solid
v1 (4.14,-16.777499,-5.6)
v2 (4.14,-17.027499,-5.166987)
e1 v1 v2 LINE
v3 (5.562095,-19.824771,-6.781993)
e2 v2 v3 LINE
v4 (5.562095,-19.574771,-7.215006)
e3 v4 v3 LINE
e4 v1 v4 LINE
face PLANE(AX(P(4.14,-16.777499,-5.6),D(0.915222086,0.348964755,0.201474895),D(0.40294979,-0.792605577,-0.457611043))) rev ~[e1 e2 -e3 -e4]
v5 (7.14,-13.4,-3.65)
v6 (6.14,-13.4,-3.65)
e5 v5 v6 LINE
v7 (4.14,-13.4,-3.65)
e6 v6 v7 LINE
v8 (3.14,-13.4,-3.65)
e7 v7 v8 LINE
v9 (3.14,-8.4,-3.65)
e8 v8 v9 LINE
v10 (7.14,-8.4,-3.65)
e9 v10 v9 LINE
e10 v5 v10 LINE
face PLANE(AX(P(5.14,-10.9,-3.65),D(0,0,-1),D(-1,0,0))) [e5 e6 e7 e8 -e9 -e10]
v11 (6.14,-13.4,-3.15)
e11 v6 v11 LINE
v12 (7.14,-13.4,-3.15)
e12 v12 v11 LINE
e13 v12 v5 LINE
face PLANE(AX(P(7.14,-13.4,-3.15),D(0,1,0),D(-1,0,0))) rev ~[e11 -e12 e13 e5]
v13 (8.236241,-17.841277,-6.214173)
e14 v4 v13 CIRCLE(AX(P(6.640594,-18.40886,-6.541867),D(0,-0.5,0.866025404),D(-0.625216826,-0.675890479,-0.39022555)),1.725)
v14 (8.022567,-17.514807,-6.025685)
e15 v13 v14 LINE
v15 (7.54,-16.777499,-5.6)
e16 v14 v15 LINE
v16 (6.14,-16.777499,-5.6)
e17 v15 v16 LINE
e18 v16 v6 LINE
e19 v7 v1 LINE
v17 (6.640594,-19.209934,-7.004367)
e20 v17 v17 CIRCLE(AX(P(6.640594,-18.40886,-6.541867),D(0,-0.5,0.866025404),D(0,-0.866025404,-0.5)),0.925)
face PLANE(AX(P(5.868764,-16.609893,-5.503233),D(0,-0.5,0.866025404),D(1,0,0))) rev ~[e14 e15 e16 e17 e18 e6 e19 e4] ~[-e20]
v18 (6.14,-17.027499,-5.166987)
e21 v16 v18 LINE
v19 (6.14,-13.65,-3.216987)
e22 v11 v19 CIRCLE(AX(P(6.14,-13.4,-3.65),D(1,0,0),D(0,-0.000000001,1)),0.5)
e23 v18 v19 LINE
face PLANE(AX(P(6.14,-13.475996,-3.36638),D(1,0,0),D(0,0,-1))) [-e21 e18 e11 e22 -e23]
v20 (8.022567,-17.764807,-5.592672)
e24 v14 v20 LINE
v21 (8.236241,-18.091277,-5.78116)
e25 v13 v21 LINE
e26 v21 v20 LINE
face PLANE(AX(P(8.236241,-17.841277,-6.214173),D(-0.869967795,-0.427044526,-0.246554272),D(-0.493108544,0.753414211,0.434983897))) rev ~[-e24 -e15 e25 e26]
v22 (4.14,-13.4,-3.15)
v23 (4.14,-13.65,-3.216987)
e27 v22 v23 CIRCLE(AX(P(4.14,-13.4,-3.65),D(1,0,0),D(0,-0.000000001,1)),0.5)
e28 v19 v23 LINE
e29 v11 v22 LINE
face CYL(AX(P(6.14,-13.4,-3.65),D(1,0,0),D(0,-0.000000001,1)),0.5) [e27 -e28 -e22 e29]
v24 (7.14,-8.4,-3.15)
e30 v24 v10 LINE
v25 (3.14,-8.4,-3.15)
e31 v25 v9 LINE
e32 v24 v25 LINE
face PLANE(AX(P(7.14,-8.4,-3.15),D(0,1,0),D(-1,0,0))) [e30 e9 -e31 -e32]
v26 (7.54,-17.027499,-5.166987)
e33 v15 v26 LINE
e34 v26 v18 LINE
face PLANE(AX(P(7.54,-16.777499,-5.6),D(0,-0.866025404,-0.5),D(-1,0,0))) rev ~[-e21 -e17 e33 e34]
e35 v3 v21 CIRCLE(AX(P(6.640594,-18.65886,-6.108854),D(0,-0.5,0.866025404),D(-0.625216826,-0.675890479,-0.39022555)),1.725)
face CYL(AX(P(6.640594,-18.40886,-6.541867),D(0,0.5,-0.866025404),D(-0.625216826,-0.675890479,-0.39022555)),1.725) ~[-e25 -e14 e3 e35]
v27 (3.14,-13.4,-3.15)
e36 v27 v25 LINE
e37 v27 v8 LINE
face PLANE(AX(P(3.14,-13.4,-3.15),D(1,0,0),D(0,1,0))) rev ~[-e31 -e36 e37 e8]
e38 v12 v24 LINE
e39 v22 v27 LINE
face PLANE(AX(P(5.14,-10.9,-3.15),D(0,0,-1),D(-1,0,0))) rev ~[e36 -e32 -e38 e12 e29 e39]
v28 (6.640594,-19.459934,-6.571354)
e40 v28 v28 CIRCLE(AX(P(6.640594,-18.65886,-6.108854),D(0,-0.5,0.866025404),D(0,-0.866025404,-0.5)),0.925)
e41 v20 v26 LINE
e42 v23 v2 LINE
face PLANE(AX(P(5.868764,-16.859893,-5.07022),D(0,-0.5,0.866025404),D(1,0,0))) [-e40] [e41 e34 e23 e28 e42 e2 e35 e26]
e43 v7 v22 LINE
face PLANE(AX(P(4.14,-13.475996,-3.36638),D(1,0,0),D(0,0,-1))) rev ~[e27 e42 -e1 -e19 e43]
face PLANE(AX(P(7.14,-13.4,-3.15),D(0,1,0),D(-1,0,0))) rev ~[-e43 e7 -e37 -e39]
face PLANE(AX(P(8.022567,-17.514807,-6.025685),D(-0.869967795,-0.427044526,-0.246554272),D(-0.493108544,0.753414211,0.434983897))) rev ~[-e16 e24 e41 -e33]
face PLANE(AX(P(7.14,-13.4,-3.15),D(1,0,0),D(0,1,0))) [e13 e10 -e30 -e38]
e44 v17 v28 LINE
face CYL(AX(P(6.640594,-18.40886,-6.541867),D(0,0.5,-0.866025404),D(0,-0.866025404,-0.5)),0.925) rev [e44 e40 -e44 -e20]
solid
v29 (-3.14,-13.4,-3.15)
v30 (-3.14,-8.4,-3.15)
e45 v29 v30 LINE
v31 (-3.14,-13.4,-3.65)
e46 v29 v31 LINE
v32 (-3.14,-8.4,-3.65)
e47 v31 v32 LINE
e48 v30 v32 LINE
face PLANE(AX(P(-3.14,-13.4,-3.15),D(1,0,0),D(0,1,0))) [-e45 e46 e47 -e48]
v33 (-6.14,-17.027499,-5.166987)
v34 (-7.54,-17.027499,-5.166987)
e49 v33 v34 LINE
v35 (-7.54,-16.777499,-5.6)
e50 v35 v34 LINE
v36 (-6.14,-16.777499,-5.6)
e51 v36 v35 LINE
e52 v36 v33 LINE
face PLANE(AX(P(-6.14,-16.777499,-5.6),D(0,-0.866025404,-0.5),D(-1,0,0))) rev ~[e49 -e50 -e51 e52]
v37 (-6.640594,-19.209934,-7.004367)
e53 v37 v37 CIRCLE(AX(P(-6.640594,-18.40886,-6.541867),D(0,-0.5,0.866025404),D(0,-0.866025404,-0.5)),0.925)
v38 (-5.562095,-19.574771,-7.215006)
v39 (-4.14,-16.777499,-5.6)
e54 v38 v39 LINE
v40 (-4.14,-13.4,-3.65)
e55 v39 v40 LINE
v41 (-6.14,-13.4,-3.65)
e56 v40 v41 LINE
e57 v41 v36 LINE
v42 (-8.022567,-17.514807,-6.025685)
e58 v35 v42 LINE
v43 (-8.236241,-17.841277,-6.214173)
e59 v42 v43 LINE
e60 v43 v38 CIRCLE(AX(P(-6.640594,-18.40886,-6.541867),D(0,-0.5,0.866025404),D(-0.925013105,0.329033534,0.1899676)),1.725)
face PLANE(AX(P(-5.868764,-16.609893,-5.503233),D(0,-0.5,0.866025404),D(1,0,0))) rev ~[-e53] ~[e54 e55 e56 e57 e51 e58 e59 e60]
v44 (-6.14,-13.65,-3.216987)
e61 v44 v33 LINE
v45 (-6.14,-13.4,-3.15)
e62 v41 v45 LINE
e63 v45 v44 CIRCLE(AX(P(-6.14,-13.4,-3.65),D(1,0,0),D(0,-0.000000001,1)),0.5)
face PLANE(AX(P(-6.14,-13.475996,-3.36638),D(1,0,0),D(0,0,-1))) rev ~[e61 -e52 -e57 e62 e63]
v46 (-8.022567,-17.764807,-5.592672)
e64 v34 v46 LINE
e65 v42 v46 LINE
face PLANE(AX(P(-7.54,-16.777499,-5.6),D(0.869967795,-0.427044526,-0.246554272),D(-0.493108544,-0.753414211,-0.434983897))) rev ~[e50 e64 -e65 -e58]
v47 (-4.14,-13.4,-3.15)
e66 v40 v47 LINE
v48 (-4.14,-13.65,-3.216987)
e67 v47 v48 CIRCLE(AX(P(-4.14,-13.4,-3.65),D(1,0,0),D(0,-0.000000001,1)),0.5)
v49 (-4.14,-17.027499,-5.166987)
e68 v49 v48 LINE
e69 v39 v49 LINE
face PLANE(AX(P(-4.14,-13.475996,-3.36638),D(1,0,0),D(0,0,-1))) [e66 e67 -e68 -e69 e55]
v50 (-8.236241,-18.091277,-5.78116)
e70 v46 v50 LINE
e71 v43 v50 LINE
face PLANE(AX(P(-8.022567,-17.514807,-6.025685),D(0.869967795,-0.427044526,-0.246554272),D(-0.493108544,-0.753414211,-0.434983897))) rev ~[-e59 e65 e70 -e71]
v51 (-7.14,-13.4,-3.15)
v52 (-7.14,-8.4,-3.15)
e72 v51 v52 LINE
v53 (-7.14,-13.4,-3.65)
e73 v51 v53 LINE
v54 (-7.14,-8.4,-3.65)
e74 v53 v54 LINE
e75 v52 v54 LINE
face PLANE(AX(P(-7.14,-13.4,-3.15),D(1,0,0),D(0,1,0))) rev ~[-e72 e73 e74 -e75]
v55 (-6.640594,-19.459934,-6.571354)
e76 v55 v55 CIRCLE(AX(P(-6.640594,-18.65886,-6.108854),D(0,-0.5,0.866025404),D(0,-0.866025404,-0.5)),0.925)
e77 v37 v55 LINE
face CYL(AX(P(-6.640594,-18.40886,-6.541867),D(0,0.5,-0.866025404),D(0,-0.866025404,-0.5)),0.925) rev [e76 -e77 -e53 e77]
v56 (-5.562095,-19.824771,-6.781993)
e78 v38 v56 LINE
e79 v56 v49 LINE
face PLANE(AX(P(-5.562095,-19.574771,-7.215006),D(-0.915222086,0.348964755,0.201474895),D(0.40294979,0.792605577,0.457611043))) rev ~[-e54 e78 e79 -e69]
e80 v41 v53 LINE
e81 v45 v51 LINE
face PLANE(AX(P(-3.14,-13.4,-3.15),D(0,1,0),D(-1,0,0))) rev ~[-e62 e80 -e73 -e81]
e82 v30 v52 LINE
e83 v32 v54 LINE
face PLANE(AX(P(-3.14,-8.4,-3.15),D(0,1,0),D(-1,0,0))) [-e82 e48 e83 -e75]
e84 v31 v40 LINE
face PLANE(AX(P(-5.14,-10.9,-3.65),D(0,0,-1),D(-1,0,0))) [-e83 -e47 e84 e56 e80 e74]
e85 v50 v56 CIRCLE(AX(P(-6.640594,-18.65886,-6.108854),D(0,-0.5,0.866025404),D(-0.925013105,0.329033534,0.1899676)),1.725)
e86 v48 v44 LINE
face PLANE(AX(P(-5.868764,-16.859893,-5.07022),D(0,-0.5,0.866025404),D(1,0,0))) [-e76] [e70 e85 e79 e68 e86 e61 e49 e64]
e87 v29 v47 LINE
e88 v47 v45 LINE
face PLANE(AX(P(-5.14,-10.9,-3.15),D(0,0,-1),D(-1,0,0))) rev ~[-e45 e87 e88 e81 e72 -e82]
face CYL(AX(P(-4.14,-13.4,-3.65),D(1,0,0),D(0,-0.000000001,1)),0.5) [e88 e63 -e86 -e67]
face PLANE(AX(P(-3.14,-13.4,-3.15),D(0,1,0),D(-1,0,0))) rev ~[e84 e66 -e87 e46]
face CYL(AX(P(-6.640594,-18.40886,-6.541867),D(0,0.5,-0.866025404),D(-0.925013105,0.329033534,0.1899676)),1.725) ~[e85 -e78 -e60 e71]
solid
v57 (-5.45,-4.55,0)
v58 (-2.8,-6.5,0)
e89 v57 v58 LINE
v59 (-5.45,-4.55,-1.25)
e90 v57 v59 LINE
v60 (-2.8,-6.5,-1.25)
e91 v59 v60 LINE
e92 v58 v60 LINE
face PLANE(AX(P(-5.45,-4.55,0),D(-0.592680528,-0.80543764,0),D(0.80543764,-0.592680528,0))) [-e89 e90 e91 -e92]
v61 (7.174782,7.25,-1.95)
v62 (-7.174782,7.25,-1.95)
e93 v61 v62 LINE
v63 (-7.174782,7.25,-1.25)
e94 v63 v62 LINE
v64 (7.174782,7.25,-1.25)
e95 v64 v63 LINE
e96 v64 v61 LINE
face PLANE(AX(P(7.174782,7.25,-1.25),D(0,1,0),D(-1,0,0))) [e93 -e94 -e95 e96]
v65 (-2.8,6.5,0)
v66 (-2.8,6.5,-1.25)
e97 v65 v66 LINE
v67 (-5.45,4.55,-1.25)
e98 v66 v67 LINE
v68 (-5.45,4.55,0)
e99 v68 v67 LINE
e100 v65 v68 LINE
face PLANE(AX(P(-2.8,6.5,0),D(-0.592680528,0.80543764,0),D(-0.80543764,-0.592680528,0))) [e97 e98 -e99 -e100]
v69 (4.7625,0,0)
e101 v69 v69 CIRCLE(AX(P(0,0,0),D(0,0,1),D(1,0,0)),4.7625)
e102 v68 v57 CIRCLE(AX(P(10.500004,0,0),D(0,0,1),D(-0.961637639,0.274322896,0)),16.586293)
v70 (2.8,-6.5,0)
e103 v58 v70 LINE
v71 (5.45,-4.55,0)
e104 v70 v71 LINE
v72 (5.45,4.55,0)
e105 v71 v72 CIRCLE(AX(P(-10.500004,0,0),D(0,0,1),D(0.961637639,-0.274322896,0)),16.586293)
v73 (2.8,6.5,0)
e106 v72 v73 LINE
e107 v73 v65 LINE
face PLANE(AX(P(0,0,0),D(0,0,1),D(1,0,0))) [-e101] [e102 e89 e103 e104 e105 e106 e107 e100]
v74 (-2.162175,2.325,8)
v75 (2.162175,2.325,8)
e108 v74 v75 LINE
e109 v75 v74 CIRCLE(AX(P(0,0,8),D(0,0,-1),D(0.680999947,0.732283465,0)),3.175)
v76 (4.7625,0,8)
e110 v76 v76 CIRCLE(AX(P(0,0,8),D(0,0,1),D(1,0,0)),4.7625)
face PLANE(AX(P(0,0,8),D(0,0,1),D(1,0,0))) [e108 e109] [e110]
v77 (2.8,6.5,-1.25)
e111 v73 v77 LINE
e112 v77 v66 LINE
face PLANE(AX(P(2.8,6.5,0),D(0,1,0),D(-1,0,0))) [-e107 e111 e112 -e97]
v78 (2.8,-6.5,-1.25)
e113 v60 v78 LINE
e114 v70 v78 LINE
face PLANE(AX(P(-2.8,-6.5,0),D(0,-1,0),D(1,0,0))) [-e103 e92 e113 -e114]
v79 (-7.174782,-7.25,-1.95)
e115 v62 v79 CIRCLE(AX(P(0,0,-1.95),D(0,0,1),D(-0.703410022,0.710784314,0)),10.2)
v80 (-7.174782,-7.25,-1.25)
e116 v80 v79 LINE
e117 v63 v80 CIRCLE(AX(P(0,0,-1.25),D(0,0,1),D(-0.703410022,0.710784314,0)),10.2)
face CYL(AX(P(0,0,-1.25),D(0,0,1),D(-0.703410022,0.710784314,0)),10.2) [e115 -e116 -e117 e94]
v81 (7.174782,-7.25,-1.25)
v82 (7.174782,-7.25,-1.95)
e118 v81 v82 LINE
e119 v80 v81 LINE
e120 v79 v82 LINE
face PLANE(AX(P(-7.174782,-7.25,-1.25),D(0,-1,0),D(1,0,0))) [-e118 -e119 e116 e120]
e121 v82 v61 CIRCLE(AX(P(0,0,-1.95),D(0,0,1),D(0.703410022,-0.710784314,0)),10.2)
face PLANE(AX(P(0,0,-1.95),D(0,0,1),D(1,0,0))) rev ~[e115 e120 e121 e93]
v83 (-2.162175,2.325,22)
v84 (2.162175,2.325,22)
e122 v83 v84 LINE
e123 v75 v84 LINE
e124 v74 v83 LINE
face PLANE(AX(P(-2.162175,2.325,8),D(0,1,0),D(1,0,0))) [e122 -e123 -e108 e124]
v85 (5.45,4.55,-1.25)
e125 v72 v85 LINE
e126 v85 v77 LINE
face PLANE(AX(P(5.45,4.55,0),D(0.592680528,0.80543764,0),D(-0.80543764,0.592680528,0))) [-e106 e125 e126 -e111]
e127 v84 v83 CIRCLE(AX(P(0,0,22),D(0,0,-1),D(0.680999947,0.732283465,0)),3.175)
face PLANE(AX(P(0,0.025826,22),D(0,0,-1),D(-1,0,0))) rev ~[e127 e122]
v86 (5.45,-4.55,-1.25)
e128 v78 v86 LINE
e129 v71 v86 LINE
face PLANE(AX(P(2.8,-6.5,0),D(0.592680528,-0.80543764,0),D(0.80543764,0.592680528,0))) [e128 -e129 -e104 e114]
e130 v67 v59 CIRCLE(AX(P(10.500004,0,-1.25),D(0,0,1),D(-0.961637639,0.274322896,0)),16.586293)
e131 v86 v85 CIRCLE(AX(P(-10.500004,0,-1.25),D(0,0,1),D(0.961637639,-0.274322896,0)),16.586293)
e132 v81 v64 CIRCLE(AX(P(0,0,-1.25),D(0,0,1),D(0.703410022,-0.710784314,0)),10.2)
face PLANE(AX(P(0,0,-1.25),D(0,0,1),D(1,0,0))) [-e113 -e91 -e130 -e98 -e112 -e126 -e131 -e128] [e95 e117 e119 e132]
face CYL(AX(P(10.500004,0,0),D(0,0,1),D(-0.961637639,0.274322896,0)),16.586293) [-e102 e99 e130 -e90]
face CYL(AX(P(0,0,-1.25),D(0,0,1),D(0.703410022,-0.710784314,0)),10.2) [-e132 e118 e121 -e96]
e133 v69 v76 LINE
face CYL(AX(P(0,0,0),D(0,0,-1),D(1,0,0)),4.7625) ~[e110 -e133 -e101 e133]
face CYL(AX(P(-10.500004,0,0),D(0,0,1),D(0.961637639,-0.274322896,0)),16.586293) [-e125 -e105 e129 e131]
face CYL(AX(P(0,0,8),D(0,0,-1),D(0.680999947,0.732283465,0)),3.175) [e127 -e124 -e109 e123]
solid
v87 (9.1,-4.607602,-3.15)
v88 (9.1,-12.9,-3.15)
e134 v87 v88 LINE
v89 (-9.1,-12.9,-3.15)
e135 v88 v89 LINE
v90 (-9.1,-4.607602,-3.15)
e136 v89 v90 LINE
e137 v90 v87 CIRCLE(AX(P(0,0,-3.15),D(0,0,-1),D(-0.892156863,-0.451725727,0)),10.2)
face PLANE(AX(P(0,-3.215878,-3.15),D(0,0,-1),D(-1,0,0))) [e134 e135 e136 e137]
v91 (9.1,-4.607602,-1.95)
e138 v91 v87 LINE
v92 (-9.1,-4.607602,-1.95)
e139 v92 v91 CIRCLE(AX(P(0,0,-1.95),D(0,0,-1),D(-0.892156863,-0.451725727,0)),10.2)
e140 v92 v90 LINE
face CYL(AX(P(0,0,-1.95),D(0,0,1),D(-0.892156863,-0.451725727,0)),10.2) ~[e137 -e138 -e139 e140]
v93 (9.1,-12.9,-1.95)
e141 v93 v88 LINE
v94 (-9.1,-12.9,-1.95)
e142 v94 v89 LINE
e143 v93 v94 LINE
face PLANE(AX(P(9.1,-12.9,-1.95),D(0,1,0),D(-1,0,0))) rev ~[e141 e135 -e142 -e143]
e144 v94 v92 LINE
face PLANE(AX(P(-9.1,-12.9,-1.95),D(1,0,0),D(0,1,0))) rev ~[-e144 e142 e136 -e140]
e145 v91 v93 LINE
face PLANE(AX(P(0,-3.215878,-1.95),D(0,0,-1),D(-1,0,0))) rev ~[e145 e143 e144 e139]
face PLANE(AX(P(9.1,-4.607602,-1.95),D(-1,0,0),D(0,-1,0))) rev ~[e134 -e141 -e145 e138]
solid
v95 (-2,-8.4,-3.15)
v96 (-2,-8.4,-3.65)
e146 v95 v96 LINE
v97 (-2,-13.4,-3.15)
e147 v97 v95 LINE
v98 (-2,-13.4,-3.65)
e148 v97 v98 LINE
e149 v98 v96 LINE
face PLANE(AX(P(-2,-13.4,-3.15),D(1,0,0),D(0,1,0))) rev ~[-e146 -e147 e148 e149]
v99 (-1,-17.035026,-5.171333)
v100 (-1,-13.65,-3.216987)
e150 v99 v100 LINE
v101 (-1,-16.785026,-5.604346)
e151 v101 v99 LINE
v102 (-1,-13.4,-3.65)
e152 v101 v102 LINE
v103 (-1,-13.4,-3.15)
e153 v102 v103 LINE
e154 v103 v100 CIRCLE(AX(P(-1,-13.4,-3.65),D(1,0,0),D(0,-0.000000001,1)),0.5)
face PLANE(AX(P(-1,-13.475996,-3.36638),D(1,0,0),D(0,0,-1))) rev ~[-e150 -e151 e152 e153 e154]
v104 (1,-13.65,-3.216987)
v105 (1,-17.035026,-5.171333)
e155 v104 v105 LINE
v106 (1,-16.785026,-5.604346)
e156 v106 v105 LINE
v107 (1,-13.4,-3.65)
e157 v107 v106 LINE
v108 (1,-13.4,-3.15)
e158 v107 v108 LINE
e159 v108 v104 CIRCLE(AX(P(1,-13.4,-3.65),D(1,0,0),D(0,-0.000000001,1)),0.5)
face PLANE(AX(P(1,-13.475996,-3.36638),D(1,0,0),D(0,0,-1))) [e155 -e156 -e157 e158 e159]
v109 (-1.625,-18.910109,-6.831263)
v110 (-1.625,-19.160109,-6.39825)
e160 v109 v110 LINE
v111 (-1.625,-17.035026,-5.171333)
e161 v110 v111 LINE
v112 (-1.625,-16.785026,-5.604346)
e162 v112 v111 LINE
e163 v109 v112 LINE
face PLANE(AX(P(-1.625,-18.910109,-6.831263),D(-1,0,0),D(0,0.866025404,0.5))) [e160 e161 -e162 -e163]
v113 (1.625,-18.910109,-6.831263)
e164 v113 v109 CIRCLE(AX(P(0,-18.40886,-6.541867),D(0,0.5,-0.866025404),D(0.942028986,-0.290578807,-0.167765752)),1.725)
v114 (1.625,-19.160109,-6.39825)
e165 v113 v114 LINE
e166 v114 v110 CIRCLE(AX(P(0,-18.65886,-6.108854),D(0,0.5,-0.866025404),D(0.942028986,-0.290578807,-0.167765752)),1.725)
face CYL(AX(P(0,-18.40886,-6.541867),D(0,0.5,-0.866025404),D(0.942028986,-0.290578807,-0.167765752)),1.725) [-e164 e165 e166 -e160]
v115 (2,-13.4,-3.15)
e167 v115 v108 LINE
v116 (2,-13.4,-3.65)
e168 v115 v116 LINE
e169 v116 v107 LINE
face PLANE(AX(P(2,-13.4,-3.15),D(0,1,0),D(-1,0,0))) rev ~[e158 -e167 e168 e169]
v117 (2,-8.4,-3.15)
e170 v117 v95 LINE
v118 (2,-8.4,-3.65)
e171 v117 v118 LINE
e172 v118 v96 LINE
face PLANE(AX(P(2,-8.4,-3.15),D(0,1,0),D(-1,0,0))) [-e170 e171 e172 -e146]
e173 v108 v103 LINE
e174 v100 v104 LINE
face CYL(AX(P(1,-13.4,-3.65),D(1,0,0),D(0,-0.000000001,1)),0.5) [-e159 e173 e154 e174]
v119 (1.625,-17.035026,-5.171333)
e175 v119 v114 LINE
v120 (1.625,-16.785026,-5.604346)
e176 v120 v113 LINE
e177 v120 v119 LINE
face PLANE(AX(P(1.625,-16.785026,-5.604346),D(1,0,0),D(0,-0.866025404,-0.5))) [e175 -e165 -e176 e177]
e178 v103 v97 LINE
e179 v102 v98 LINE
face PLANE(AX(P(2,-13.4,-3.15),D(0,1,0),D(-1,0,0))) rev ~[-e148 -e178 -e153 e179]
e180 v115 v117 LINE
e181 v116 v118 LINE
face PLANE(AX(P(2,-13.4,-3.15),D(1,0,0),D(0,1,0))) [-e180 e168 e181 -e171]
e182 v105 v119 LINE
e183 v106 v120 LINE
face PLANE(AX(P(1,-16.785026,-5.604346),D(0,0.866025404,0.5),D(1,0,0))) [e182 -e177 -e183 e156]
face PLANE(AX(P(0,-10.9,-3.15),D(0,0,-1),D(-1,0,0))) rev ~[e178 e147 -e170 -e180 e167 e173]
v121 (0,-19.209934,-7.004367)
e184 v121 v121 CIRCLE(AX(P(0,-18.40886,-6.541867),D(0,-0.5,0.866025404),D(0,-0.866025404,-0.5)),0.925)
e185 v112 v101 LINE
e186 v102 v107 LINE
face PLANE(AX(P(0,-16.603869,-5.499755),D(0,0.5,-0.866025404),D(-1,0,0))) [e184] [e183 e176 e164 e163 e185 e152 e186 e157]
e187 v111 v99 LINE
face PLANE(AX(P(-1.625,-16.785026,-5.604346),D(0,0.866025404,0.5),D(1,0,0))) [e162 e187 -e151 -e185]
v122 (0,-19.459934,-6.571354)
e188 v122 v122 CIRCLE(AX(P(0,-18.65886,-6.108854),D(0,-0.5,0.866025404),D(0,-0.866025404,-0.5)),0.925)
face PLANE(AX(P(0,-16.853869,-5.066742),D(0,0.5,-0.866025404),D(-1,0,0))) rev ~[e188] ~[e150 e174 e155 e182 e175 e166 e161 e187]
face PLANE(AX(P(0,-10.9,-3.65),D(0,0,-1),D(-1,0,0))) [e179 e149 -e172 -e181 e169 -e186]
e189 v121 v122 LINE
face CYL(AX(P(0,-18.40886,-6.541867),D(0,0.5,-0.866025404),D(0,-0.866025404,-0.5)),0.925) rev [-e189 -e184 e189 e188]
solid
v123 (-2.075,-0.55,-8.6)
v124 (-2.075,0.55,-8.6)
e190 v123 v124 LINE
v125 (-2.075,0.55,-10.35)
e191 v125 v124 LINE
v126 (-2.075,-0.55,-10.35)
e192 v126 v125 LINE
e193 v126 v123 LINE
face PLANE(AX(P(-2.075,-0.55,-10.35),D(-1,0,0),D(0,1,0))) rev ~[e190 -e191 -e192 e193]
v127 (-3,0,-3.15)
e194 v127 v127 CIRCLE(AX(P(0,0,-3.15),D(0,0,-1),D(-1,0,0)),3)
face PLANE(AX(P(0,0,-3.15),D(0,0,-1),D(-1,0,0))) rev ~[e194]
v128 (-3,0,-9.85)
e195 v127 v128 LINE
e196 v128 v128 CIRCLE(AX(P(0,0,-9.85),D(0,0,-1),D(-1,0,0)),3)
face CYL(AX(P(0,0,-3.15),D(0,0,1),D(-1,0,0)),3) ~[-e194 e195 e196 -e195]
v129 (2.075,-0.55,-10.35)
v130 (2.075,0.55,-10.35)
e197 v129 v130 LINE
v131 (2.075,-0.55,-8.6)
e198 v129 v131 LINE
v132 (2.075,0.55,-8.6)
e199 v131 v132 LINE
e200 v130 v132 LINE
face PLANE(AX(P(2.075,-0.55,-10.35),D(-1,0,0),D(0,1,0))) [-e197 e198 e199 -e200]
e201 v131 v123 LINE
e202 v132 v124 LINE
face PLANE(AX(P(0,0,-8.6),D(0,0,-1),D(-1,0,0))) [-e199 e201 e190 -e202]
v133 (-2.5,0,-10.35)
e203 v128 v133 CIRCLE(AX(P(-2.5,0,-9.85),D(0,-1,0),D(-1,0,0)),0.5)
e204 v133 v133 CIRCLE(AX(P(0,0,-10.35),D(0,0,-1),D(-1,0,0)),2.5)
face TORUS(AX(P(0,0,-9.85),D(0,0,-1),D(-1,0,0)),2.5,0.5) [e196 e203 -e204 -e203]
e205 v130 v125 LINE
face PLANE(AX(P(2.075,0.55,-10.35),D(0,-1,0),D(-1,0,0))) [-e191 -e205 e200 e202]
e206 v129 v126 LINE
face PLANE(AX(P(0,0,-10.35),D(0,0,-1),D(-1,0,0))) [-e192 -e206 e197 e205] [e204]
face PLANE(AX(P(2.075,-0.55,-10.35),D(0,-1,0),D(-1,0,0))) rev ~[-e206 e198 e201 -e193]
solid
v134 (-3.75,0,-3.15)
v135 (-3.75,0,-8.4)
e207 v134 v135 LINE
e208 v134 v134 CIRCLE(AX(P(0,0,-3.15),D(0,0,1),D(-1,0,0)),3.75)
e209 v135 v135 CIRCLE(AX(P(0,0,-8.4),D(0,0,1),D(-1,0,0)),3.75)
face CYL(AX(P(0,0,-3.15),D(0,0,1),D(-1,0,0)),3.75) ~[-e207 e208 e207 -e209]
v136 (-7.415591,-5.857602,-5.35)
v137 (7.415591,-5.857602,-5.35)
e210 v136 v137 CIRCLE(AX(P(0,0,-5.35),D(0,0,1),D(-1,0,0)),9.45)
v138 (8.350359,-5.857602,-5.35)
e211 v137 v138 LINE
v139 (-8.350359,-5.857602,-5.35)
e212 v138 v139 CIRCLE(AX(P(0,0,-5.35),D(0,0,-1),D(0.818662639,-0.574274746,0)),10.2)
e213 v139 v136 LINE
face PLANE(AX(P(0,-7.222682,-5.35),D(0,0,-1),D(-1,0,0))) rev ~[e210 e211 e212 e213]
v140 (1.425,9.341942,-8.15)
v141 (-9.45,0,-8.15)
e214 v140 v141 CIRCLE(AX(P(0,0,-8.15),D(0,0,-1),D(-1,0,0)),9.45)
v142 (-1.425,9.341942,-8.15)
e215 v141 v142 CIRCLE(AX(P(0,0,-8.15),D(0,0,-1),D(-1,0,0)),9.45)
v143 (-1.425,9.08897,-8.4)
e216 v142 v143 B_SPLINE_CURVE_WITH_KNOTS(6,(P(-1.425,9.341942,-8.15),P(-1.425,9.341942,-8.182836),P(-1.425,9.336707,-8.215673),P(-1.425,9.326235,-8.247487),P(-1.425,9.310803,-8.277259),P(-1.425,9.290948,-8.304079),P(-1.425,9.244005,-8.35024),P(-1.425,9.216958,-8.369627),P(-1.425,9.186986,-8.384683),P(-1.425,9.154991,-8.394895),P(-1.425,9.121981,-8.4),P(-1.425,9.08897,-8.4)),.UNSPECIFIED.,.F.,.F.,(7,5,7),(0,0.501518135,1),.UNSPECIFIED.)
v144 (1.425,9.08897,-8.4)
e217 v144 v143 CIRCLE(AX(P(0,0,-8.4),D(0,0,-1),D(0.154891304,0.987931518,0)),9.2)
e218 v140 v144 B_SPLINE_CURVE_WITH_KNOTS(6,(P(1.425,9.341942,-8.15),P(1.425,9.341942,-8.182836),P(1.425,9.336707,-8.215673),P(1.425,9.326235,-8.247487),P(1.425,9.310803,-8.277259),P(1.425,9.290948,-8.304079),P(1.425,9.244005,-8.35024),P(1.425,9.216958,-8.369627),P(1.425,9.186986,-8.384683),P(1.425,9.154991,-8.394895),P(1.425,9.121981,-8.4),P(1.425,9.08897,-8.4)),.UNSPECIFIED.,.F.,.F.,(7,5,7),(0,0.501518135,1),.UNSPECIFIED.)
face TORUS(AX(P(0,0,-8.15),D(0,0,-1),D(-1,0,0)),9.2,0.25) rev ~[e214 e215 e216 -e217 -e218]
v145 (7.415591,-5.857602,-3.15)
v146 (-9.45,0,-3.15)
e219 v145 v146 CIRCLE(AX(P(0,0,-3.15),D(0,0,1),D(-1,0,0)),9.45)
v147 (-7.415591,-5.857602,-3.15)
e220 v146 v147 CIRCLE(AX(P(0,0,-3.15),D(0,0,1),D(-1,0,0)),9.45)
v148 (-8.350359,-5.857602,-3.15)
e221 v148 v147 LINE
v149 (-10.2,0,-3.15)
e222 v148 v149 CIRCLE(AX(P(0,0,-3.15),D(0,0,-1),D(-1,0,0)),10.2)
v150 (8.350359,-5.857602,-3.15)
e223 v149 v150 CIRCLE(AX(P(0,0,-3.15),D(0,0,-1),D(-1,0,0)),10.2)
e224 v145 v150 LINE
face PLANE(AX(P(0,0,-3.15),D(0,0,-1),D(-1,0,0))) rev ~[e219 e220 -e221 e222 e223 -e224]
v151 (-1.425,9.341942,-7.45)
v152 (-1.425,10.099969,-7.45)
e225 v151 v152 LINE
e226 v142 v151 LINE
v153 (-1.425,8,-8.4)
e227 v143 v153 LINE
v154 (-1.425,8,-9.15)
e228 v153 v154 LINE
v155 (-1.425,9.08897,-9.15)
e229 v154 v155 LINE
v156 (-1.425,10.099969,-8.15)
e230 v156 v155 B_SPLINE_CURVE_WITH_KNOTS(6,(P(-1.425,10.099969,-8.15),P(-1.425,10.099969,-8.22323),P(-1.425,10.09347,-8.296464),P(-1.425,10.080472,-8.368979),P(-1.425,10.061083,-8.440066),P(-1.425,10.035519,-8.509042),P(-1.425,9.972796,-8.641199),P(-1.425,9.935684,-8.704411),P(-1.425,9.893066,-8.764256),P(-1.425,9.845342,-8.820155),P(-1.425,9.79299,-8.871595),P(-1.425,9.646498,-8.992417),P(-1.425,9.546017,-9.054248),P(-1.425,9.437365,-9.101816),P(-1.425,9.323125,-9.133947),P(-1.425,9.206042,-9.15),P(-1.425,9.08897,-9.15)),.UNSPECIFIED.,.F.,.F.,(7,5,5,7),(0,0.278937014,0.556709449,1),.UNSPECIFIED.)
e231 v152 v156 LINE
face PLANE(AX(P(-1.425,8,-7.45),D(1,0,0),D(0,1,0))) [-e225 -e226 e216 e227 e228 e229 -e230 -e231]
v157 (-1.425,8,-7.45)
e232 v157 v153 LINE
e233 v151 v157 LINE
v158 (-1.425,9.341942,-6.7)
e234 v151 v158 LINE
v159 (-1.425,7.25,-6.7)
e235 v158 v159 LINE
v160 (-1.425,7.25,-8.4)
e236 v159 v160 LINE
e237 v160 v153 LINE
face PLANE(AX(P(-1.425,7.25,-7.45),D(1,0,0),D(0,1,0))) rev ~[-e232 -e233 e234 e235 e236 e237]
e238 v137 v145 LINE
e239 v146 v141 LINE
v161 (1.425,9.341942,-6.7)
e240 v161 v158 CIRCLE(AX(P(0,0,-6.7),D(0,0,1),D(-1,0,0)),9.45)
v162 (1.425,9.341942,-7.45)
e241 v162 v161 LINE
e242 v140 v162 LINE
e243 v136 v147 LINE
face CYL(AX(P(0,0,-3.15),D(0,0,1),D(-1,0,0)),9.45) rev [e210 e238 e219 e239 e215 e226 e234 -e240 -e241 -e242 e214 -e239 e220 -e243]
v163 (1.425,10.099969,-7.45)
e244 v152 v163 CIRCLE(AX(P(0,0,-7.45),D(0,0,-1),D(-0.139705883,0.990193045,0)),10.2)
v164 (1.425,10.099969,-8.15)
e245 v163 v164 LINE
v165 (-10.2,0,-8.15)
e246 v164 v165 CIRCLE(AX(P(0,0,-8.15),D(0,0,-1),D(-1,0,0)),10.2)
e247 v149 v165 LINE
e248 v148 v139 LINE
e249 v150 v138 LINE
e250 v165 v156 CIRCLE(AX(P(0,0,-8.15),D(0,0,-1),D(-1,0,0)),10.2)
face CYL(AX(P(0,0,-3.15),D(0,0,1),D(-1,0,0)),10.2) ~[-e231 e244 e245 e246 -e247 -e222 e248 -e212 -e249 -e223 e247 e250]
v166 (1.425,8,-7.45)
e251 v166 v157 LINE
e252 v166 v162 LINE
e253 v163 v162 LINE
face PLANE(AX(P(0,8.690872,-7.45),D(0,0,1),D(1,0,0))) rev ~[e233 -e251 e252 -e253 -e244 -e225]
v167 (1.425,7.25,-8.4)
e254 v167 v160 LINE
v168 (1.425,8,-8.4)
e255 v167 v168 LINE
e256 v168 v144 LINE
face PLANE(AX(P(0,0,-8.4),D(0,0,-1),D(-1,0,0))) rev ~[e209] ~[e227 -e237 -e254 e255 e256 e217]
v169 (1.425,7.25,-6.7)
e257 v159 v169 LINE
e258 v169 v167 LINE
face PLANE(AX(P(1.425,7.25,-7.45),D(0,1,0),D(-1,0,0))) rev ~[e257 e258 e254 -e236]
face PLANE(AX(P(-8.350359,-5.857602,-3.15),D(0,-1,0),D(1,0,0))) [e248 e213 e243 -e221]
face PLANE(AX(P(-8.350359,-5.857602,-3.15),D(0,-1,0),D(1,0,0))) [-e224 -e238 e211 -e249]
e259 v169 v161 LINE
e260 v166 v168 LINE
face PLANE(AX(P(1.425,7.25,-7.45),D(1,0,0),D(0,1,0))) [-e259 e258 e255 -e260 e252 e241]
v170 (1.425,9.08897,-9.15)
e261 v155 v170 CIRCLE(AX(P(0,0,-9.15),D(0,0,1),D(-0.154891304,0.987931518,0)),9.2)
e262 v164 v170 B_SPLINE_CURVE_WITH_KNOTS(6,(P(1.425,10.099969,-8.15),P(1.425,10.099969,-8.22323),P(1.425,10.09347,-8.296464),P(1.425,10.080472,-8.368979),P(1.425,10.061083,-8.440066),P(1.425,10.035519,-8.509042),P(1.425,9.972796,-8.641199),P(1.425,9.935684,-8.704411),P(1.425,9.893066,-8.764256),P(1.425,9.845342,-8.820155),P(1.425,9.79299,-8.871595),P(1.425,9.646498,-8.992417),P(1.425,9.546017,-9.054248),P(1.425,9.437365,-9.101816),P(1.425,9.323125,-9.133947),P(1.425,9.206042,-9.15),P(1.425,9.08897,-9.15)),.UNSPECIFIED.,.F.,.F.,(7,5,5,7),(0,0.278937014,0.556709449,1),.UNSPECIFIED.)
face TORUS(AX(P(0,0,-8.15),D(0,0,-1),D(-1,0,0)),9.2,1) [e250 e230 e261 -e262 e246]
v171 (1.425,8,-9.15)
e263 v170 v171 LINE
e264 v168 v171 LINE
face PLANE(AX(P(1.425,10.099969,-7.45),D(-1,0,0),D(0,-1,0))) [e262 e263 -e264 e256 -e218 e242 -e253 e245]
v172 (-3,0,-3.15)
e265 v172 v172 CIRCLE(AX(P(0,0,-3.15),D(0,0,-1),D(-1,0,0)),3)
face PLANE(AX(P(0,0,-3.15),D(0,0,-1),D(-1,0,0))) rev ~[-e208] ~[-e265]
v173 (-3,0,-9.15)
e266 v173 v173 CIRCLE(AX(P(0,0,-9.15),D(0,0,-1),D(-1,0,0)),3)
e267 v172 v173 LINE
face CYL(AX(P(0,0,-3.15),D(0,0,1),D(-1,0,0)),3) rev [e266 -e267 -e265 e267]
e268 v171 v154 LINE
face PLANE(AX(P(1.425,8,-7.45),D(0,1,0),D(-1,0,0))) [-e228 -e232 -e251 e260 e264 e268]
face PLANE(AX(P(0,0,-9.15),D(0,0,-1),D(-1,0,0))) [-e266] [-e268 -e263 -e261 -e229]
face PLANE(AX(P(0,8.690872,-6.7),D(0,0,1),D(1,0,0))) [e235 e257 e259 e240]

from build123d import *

# Parameters (mm, degrees)
SKETCH1_R             = 4.7625
THREAD_DEPTH          = 8
D_DRIVE_DEPTH         = 14
BACK_PLATE_1_DEPTH    = 1.25
BACK_PLATE_2_DEPTH    = 0.7
CARDBOARD_PLATE_DEPTH = 1.2
SKETCH6_R             = 10.2
SKETCH6_R_2           = 3
MAIN_CASE_DEPTH       = 6
FILLET1_R             = 1
SKETCH7_R             = 3
DRIVE_DEPTH           = 7.2
FILLET2_R             = 0.5
SKETCH8_W             = 4.15
SKETCH8_H             = 1.1
CUT_EXTRUDE1_DEPTH    = 1.75
SHELL1_T              = -0.75
CUT_EXTRUDE2_START    = -1.7
CUT_EXTRUDE2_DEPTH    = 1.7
EXTRUDE8_START        = -0.75
EXTRUDE8_DEPTH        = 0.75
SKETCH12_W            = 2.85
SKETCH12_H            = 0.75
EXTRUDE11_DEPTH       = 0.95
SKETCH13_W            = 4
SKETCH13_H            = 5
EXTRUDE12_DEPTH       = 0.5
EXTRUDE12_2_DEPTH     = 0.5
EXTRUDE12_3_DEPTH     = 0.5
CUT_EXTRUDE3_DEPTH    = 2.2
SKETCH15_R            = 0.925
TAGS_DEPTH            = 0.5
TAGS_2_DEPTH          = 0.5
TAGS_3_DEPTH          = 0.5
FILLET_1_DEPTH        = 2
FILLET_2_DEPTH        = 2
FILLET_3_DEPTH        = 2


with BuildPart() as part:
    # Sketch1 → Thread (new body)
    with BuildSketch(Plane.XY):
        Circle(SKETCH1_R)
    extrude(amount=THREAD_DEPTH)

    # Sketch2 → D Drive (add)
    with BuildSketch(Plane.XY.offset(8)):
        with BuildLine():
            Line((-2.162174831, 2.325), (2.162174831, 2.325))
            ThreePointArc((2.162174831, 2.325), (0, -3.175), (-2.162174831, 2.325))
        make_face()
    extrude(amount=D_DRIVE_DEPTH)

    # Sketch3 → Back Plate 1 (add)
    with BuildSketch(Plane(origin=(0, 0, 0), x_dir=(-1, 0, 0), z_dir=(0, 0, -1))):
        with BuildLine():
            Line((-2.8, 6.5), (2.8, 6.5))
            Line((2.8, 6.5), (5.45, 4.55))
            ThreePointArc((5.45, 4.55), (6.086289369, 0), (5.45, -4.55))
            Line((5.45, -4.55), (2.8, -6.5))
            Line((2.8, -6.5), (-2.8, -6.5))
            Line((-2.8, -6.5), (-5.45, -4.55))
            ThreePointArc((-5.45, -4.55), (-6.086289369, 0), (-5.45, 4.55))
            Line((-5.45, 4.55), (-2.8, 6.5))
        make_face()
    extrude(amount=BACK_PLATE_1_DEPTH)

    # Sketch4 → Back Plate 2 (add)
    with BuildSketch(Plane(origin=(0, 0, -1.25), x_dir=(-1, 0, 0), z_dir=(0, 0, -1))):
        with BuildLine():
            Line((-7.174782227, 7.25), (7.174782227, 7.25))
            ThreePointArc((7.174782227, 7.25), (10.2, 0), (7.174782227, -7.25))
            Line((7.174782227, -7.25), (-7.174782227, -7.25))
            ThreePointArc((-7.174782227, -7.25), (-10.2, 0), (-7.174782227, 7.25))
        make_face()
    extrude(amount=BACK_PLATE_2_DEPTH)


with BuildPart() as body_2:
    # Sketch5 → Cardboard Plate (new body)
    with BuildSketch(Plane(origin=(0, 0, -1.95), x_dir=(-1, 0, 0), z_dir=(0, 0, -1))):
        with BuildLine():
            Line((-9.1, -12.9), (9.1, -12.9))
            Line((9.1, -12.9), (9.1, -4.607602413))
            ThreePointArc((9.1, -4.607602413), (0, 10.2), (-9.1, -4.607602413))
            Line((-9.1, -4.607602413), (-9.1, -12.9))
        make_face()
    extrude(amount=CARDBOARD_PLATE_DEPTH)


with BuildPart() as body_3:
    # Sketch6 → Main Case (new body)
    with BuildSketch(Plane(origin=(0, 0, -3.15), x_dir=(-1, 0, 0), z_dir=(0, 0, -1))):
        Circle(SKETCH6_R)
        Circle(SKETCH6_R_2, mode=Mode.SUBTRACT)
    extrude(amount=MAIN_CASE_DEPTH)

    # Fillet1
    fillet1_edges = [body_3.edges().sort_by_distance(p)[0] for p in [
        (10.2, 0, -9.15),
    ]]
    fillet(fillet1_edges, radius=FILLET1_R)

    # Shell1
    shell1_openings = [body_3.faces().sort_by_distance(p)[0] for p in [
        (9.911500433, 0, -3.15),
    ]]
    offset(amount=SHELL1_T, openings=shell1_openings, kind=Kind.INTERSECTION)

    # Sketch9 → Cut-Extrude2 (cut)
    with BuildSketch(Plane(origin=(0, 0, -9.15), x_dir=(-1, 0, 0), z_dir=(0, 0, -1)).offset(CUT_EXTRUDE2_START)):
        with BuildLine():
            Line((-1.425, 8), (1.425, 8))
            Line((1.425, 8), (1.425, 10.099969059))
            ThreePointArc((1.425, 10.099969059), (0, 10.2), (-1.425, 10.099969059))
            Line((-1.425, 10.099969059), (-1.425, 8))
        make_face()
    extrude(amount=CUT_EXTRUDE2_DEPTH, mode=Mode.SUBTRACT)

    # Sketch10 → Extrude8 (add)
    with BuildSketch(Plane(origin=(0, 0, -7.45), x_dir=(-1, 0, 0), z_dir=(0, 0, -1)).offset(EXTRUDE8_START)):
        with BuildLine():
            Line((-1.425, 7.25), (-1.425, 10.099969059))
            ThreePointArc((-1.425, 10.099969059), (0, 10.2), (1.425, 10.099969059))
            Line((1.425, 10.099969059), (1.425, 7.25))
            Line((1.425, 7.25), (-1.425, 7.25))
        make_face()
    extrude(amount=EXTRUDE8_DEPTH)

    # Sketch12 → Extrude11 (add)
    with BuildSketch(Plane(origin=(0, 0, -7.45), x_dir=(-1, 0, 0), z_dir=(0, 0, -1))):
        with Locations((0, 7.625)):
            Rectangle(SKETCH12_W, SKETCH12_H)
    extrude(amount=EXTRUDE11_DEPTH)

    # Sketch14 → Cut-Extrude3 (cut)
    with BuildSketch(Plane(origin=(0, 0, -3.15), x_dir=(-1, 0, 0), z_dir=(0, 0, -1))):
        with BuildLine():
            Line((8.350358912, -5.857602413), (-8.350358912, -5.857602413))
            ThreePointArc((-8.350358912, -5.857602413), (0, -10.2), (8.350358912, -5.857602413))
        make_face()
    extrude(amount=CUT_EXTRUDE3_DEPTH, mode=Mode.SUBTRACT)


with BuildPart() as body_4:
    # Sketch7 → Drive (new body)
    with BuildSketch(Plane(origin=(0, 0, -3.15), x_dir=(-1, 0, 0), z_dir=(0, 0, -1))):
        Circle(SKETCH7_R)
    extrude(amount=DRIVE_DEPTH)

    # Fillet2
    fillet2_edges = [body_4.edges().sort_by_distance(p)[0] for p in [
        (3, 0, -10.35),
    ]]
    fillet(fillet2_edges, radius=FILLET2_R)

    # Sketch8 → Cut-Extrude1 (cut)
    with BuildSketch(Plane(origin=(0, 0, -10.35), x_dir=(-1, 0, 0), z_dir=(0, 0, -1))):
        Rectangle(SKETCH8_W, SKETCH8_H)
    extrude(amount=-CUT_EXTRUDE1_DEPTH, mode=Mode.SUBTRACT)


with BuildPart() as body_5:
    # Sketch13 → Extrude12 (new body)
    with BuildSketch(Plane(origin=(0, 0, -3.15), x_dir=(-1, 0, 0), z_dir=(0, 0, -1))):
        with Locations((-5.14, -10.9)):
            Rectangle(SKETCH13_W, SKETCH13_H)
    extrude(amount=EXTRUDE12_DEPTH)



with BuildPart() as body_6:
    # Sketch13 → Extrude12 2 (new body)
    with BuildSketch(Plane(origin=(0, 0, -3.15), x_dir=(-1, 0, 0), z_dir=(0, 0, -1))):
        with Locations((0, -10.9)):
            Rectangle(SKETCH13_W, SKETCH13_H)
    extrude(amount=EXTRUDE12_2_DEPTH)



with BuildPart() as body_7:
    # Sketch13 → Extrude12 3 (new body)
    with BuildSketch(Plane(origin=(0, 0, -3.15), x_dir=(-1, 0, 0), z_dir=(0, 0, -1))):
        with Locations((5.14, -10.9)):
            Rectangle(SKETCH13_W, SKETCH13_H)
    extrude(amount=EXTRUDE12_3_DEPTH)



with BuildPart() as body_8:
    # Sketch15 → Tags (new body)
    with BuildSketch(Plane(origin=(0, -1.769503638, 3.064870205), x_dir=(1, 0, 0), z_dir=(0, -0.49999999999999495, 0.8660254037844416))):
        with BuildLine():
            Line((6.14, -13.429740411), (4.14, -13.429740411))
            Line((4.14, -13.429740411), (4.14, -17.329740411))
            Line((4.14, -17.329740411), (5.562094819, -20.559752235))
            ThreePointArc((5.562094819, -20.559752235), (7.674289992, -20.594451015), (8.236241451, -18.558085868))
            Line((8.236241451, -18.558085868), (8.022566844, -18.181109989))
            Line((8.022566844, -18.181109989), (7.54, -17.329740411))
            Line((7.54, -17.329740411), (6.14, -17.329740411))
            Line((6.14, -17.329740411), (6.14, -13.429740411))
        make_face()
        with Locations(Location((6.640593845, -19.213474087, 0), (0, 0, 270))):
            Circle(SKETCH15_R, mode=Mode.SUBTRACT)
    extrude(amount=TAGS_DEPTH)


with BuildPart() as body_9:
    # Sketch15 → Tags 2 (new body)
    with BuildSketch(Plane(origin=(0, -1.769503638, 3.064870205), x_dir=(1, 0, 0), z_dir=(0, -0.49999999999999495, 0.8660254037844416))):
        with BuildLine():
            ThreePointArc((1.625, -19.792265932), (0, -20.938474087), (-1.625, -19.792265932))
            Line((-1.625, -19.792265932), (-1.625, -17.338432173))
            Line((-1.625, -17.338432173), (-1, -17.338432173))
            Line((-1, -17.338432173), (-1, -13.429740411))
            Line((-1, -13.429740411), (1, -13.429740411))
            Line((1, -13.429740411), (1, -17.338432173))
            Line((1, -17.338432173), (1.625, -17.338432173))
            Line((1.625, -17.338432173), (1.625, -19.792265932))
        make_face()
        with Locations(Location((0, -19.213474087, 0), (0, 0, 270))):
            Circle(SKETCH15_R, mode=Mode.SUBTRACT)
    extrude(amount=TAGS_2_DEPTH)


with BuildPart() as body_10:
    # Sketch15 → Tags 3 (new body)
    with BuildSketch(Plane(origin=(0, -1.769503638, 3.064870205), x_dir=(1, 0, 0), z_dir=(0, -0.49999999999999495, 0.8660254037844416))):
        with BuildLine():
            Line((-6.14, -17.329740411), (-7.54, -17.329740411))
            Line((-7.54, -17.329740411), (-8.022566844, -18.181109989))
            Line((-8.022566844, -18.181109989), (-8.236241451, -18.558085868))
            ThreePointArc((-8.236241451, -18.558085868), (-7.674289992, -20.594451015), (-5.562094819, -20.559752235))
            Line((-5.562094819, -20.559752235), (-4.14, -17.329740411))
            Line((-4.14, -17.329740411), (-4.14, -13.429740411))
            Line((-4.14, -13.429740411), (-6.14, -13.429740411))
            Line((-6.14, -13.429740411), (-6.14, -17.329740411))
        make_face()
        with Locations(Location((-6.640593845, -19.213474087, 0), (0, 0, 270))):
            Circle(SKETCH15_R, mode=Mode.SUBTRACT)
    extrude(amount=TAGS_3_DEPTH)


with BuildPart() as body_5_1:
    add(body_5.part)

    add(body_8.part)  # Fillet 1 merges body 8
    # Sketch23 → Fillet 1 (add)
    with BuildSketch(Plane(origin=(6.14, 0, 0), x_dir=(0, 0, -1), z_dir=(1, 0, 0))):
        with BuildLine():
            Line((3.216987298, -13.65), (3.65, -13.4))
            Line((3.65, -13.4), (3.15, -13.4))
            ThreePointArc((3.15, -13.4), (3.167037087, -13.529409523), (3.216987298, -13.65))
        make_face()
    extrude(amount=-FILLET_1_DEPTH)


with BuildPart() as body_6_1:
    add(body_6.part)

    add(body_9.part)  # Fillet 2 merges body 9
    # Sketch24 → Fillet 2 (add)
    with BuildSketch(Plane(origin=(1, 0, 0), x_dir=(0, 0, -1), z_dir=(1, 0, 0))):
        with BuildLine():
            Line((3.216987298, -13.65), (3.65, -13.4))
            Line((3.65, -13.4), (3.15, -13.4))
            ThreePointArc((3.15, -13.4), (3.167037087, -13.529409523), (3.216987298, -13.65))
        make_face()
    extrude(amount=-FILLET_2_DEPTH)


with BuildPart() as body_7_1:
    add(body_7.part)

    add(body_10.part)  # Fillet 3 merges body 10
    # Sketch25 → Fillet 3 (add)
    with BuildSketch(Plane(origin=(-4.14, 0, 0), x_dir=(0, 0, -1), z_dir=(1, 0, 0))):
        with BuildLine():
            Line((3.216987298, -13.65), (3.65, -13.4))
            Line((3.65, -13.4), (3.15, -13.4))
            ThreePointArc((3.15, -13.4), (3.167037087, -13.529409523), (3.216987298, -13.65))
        make_face()
    extrude(amount=-FILLET_3_DEPTH)


solid = Compound([part.part, body_2.part, body_3.part, body_4.part, body_5_1.part, body_6_1.part, body_7_1.part])
